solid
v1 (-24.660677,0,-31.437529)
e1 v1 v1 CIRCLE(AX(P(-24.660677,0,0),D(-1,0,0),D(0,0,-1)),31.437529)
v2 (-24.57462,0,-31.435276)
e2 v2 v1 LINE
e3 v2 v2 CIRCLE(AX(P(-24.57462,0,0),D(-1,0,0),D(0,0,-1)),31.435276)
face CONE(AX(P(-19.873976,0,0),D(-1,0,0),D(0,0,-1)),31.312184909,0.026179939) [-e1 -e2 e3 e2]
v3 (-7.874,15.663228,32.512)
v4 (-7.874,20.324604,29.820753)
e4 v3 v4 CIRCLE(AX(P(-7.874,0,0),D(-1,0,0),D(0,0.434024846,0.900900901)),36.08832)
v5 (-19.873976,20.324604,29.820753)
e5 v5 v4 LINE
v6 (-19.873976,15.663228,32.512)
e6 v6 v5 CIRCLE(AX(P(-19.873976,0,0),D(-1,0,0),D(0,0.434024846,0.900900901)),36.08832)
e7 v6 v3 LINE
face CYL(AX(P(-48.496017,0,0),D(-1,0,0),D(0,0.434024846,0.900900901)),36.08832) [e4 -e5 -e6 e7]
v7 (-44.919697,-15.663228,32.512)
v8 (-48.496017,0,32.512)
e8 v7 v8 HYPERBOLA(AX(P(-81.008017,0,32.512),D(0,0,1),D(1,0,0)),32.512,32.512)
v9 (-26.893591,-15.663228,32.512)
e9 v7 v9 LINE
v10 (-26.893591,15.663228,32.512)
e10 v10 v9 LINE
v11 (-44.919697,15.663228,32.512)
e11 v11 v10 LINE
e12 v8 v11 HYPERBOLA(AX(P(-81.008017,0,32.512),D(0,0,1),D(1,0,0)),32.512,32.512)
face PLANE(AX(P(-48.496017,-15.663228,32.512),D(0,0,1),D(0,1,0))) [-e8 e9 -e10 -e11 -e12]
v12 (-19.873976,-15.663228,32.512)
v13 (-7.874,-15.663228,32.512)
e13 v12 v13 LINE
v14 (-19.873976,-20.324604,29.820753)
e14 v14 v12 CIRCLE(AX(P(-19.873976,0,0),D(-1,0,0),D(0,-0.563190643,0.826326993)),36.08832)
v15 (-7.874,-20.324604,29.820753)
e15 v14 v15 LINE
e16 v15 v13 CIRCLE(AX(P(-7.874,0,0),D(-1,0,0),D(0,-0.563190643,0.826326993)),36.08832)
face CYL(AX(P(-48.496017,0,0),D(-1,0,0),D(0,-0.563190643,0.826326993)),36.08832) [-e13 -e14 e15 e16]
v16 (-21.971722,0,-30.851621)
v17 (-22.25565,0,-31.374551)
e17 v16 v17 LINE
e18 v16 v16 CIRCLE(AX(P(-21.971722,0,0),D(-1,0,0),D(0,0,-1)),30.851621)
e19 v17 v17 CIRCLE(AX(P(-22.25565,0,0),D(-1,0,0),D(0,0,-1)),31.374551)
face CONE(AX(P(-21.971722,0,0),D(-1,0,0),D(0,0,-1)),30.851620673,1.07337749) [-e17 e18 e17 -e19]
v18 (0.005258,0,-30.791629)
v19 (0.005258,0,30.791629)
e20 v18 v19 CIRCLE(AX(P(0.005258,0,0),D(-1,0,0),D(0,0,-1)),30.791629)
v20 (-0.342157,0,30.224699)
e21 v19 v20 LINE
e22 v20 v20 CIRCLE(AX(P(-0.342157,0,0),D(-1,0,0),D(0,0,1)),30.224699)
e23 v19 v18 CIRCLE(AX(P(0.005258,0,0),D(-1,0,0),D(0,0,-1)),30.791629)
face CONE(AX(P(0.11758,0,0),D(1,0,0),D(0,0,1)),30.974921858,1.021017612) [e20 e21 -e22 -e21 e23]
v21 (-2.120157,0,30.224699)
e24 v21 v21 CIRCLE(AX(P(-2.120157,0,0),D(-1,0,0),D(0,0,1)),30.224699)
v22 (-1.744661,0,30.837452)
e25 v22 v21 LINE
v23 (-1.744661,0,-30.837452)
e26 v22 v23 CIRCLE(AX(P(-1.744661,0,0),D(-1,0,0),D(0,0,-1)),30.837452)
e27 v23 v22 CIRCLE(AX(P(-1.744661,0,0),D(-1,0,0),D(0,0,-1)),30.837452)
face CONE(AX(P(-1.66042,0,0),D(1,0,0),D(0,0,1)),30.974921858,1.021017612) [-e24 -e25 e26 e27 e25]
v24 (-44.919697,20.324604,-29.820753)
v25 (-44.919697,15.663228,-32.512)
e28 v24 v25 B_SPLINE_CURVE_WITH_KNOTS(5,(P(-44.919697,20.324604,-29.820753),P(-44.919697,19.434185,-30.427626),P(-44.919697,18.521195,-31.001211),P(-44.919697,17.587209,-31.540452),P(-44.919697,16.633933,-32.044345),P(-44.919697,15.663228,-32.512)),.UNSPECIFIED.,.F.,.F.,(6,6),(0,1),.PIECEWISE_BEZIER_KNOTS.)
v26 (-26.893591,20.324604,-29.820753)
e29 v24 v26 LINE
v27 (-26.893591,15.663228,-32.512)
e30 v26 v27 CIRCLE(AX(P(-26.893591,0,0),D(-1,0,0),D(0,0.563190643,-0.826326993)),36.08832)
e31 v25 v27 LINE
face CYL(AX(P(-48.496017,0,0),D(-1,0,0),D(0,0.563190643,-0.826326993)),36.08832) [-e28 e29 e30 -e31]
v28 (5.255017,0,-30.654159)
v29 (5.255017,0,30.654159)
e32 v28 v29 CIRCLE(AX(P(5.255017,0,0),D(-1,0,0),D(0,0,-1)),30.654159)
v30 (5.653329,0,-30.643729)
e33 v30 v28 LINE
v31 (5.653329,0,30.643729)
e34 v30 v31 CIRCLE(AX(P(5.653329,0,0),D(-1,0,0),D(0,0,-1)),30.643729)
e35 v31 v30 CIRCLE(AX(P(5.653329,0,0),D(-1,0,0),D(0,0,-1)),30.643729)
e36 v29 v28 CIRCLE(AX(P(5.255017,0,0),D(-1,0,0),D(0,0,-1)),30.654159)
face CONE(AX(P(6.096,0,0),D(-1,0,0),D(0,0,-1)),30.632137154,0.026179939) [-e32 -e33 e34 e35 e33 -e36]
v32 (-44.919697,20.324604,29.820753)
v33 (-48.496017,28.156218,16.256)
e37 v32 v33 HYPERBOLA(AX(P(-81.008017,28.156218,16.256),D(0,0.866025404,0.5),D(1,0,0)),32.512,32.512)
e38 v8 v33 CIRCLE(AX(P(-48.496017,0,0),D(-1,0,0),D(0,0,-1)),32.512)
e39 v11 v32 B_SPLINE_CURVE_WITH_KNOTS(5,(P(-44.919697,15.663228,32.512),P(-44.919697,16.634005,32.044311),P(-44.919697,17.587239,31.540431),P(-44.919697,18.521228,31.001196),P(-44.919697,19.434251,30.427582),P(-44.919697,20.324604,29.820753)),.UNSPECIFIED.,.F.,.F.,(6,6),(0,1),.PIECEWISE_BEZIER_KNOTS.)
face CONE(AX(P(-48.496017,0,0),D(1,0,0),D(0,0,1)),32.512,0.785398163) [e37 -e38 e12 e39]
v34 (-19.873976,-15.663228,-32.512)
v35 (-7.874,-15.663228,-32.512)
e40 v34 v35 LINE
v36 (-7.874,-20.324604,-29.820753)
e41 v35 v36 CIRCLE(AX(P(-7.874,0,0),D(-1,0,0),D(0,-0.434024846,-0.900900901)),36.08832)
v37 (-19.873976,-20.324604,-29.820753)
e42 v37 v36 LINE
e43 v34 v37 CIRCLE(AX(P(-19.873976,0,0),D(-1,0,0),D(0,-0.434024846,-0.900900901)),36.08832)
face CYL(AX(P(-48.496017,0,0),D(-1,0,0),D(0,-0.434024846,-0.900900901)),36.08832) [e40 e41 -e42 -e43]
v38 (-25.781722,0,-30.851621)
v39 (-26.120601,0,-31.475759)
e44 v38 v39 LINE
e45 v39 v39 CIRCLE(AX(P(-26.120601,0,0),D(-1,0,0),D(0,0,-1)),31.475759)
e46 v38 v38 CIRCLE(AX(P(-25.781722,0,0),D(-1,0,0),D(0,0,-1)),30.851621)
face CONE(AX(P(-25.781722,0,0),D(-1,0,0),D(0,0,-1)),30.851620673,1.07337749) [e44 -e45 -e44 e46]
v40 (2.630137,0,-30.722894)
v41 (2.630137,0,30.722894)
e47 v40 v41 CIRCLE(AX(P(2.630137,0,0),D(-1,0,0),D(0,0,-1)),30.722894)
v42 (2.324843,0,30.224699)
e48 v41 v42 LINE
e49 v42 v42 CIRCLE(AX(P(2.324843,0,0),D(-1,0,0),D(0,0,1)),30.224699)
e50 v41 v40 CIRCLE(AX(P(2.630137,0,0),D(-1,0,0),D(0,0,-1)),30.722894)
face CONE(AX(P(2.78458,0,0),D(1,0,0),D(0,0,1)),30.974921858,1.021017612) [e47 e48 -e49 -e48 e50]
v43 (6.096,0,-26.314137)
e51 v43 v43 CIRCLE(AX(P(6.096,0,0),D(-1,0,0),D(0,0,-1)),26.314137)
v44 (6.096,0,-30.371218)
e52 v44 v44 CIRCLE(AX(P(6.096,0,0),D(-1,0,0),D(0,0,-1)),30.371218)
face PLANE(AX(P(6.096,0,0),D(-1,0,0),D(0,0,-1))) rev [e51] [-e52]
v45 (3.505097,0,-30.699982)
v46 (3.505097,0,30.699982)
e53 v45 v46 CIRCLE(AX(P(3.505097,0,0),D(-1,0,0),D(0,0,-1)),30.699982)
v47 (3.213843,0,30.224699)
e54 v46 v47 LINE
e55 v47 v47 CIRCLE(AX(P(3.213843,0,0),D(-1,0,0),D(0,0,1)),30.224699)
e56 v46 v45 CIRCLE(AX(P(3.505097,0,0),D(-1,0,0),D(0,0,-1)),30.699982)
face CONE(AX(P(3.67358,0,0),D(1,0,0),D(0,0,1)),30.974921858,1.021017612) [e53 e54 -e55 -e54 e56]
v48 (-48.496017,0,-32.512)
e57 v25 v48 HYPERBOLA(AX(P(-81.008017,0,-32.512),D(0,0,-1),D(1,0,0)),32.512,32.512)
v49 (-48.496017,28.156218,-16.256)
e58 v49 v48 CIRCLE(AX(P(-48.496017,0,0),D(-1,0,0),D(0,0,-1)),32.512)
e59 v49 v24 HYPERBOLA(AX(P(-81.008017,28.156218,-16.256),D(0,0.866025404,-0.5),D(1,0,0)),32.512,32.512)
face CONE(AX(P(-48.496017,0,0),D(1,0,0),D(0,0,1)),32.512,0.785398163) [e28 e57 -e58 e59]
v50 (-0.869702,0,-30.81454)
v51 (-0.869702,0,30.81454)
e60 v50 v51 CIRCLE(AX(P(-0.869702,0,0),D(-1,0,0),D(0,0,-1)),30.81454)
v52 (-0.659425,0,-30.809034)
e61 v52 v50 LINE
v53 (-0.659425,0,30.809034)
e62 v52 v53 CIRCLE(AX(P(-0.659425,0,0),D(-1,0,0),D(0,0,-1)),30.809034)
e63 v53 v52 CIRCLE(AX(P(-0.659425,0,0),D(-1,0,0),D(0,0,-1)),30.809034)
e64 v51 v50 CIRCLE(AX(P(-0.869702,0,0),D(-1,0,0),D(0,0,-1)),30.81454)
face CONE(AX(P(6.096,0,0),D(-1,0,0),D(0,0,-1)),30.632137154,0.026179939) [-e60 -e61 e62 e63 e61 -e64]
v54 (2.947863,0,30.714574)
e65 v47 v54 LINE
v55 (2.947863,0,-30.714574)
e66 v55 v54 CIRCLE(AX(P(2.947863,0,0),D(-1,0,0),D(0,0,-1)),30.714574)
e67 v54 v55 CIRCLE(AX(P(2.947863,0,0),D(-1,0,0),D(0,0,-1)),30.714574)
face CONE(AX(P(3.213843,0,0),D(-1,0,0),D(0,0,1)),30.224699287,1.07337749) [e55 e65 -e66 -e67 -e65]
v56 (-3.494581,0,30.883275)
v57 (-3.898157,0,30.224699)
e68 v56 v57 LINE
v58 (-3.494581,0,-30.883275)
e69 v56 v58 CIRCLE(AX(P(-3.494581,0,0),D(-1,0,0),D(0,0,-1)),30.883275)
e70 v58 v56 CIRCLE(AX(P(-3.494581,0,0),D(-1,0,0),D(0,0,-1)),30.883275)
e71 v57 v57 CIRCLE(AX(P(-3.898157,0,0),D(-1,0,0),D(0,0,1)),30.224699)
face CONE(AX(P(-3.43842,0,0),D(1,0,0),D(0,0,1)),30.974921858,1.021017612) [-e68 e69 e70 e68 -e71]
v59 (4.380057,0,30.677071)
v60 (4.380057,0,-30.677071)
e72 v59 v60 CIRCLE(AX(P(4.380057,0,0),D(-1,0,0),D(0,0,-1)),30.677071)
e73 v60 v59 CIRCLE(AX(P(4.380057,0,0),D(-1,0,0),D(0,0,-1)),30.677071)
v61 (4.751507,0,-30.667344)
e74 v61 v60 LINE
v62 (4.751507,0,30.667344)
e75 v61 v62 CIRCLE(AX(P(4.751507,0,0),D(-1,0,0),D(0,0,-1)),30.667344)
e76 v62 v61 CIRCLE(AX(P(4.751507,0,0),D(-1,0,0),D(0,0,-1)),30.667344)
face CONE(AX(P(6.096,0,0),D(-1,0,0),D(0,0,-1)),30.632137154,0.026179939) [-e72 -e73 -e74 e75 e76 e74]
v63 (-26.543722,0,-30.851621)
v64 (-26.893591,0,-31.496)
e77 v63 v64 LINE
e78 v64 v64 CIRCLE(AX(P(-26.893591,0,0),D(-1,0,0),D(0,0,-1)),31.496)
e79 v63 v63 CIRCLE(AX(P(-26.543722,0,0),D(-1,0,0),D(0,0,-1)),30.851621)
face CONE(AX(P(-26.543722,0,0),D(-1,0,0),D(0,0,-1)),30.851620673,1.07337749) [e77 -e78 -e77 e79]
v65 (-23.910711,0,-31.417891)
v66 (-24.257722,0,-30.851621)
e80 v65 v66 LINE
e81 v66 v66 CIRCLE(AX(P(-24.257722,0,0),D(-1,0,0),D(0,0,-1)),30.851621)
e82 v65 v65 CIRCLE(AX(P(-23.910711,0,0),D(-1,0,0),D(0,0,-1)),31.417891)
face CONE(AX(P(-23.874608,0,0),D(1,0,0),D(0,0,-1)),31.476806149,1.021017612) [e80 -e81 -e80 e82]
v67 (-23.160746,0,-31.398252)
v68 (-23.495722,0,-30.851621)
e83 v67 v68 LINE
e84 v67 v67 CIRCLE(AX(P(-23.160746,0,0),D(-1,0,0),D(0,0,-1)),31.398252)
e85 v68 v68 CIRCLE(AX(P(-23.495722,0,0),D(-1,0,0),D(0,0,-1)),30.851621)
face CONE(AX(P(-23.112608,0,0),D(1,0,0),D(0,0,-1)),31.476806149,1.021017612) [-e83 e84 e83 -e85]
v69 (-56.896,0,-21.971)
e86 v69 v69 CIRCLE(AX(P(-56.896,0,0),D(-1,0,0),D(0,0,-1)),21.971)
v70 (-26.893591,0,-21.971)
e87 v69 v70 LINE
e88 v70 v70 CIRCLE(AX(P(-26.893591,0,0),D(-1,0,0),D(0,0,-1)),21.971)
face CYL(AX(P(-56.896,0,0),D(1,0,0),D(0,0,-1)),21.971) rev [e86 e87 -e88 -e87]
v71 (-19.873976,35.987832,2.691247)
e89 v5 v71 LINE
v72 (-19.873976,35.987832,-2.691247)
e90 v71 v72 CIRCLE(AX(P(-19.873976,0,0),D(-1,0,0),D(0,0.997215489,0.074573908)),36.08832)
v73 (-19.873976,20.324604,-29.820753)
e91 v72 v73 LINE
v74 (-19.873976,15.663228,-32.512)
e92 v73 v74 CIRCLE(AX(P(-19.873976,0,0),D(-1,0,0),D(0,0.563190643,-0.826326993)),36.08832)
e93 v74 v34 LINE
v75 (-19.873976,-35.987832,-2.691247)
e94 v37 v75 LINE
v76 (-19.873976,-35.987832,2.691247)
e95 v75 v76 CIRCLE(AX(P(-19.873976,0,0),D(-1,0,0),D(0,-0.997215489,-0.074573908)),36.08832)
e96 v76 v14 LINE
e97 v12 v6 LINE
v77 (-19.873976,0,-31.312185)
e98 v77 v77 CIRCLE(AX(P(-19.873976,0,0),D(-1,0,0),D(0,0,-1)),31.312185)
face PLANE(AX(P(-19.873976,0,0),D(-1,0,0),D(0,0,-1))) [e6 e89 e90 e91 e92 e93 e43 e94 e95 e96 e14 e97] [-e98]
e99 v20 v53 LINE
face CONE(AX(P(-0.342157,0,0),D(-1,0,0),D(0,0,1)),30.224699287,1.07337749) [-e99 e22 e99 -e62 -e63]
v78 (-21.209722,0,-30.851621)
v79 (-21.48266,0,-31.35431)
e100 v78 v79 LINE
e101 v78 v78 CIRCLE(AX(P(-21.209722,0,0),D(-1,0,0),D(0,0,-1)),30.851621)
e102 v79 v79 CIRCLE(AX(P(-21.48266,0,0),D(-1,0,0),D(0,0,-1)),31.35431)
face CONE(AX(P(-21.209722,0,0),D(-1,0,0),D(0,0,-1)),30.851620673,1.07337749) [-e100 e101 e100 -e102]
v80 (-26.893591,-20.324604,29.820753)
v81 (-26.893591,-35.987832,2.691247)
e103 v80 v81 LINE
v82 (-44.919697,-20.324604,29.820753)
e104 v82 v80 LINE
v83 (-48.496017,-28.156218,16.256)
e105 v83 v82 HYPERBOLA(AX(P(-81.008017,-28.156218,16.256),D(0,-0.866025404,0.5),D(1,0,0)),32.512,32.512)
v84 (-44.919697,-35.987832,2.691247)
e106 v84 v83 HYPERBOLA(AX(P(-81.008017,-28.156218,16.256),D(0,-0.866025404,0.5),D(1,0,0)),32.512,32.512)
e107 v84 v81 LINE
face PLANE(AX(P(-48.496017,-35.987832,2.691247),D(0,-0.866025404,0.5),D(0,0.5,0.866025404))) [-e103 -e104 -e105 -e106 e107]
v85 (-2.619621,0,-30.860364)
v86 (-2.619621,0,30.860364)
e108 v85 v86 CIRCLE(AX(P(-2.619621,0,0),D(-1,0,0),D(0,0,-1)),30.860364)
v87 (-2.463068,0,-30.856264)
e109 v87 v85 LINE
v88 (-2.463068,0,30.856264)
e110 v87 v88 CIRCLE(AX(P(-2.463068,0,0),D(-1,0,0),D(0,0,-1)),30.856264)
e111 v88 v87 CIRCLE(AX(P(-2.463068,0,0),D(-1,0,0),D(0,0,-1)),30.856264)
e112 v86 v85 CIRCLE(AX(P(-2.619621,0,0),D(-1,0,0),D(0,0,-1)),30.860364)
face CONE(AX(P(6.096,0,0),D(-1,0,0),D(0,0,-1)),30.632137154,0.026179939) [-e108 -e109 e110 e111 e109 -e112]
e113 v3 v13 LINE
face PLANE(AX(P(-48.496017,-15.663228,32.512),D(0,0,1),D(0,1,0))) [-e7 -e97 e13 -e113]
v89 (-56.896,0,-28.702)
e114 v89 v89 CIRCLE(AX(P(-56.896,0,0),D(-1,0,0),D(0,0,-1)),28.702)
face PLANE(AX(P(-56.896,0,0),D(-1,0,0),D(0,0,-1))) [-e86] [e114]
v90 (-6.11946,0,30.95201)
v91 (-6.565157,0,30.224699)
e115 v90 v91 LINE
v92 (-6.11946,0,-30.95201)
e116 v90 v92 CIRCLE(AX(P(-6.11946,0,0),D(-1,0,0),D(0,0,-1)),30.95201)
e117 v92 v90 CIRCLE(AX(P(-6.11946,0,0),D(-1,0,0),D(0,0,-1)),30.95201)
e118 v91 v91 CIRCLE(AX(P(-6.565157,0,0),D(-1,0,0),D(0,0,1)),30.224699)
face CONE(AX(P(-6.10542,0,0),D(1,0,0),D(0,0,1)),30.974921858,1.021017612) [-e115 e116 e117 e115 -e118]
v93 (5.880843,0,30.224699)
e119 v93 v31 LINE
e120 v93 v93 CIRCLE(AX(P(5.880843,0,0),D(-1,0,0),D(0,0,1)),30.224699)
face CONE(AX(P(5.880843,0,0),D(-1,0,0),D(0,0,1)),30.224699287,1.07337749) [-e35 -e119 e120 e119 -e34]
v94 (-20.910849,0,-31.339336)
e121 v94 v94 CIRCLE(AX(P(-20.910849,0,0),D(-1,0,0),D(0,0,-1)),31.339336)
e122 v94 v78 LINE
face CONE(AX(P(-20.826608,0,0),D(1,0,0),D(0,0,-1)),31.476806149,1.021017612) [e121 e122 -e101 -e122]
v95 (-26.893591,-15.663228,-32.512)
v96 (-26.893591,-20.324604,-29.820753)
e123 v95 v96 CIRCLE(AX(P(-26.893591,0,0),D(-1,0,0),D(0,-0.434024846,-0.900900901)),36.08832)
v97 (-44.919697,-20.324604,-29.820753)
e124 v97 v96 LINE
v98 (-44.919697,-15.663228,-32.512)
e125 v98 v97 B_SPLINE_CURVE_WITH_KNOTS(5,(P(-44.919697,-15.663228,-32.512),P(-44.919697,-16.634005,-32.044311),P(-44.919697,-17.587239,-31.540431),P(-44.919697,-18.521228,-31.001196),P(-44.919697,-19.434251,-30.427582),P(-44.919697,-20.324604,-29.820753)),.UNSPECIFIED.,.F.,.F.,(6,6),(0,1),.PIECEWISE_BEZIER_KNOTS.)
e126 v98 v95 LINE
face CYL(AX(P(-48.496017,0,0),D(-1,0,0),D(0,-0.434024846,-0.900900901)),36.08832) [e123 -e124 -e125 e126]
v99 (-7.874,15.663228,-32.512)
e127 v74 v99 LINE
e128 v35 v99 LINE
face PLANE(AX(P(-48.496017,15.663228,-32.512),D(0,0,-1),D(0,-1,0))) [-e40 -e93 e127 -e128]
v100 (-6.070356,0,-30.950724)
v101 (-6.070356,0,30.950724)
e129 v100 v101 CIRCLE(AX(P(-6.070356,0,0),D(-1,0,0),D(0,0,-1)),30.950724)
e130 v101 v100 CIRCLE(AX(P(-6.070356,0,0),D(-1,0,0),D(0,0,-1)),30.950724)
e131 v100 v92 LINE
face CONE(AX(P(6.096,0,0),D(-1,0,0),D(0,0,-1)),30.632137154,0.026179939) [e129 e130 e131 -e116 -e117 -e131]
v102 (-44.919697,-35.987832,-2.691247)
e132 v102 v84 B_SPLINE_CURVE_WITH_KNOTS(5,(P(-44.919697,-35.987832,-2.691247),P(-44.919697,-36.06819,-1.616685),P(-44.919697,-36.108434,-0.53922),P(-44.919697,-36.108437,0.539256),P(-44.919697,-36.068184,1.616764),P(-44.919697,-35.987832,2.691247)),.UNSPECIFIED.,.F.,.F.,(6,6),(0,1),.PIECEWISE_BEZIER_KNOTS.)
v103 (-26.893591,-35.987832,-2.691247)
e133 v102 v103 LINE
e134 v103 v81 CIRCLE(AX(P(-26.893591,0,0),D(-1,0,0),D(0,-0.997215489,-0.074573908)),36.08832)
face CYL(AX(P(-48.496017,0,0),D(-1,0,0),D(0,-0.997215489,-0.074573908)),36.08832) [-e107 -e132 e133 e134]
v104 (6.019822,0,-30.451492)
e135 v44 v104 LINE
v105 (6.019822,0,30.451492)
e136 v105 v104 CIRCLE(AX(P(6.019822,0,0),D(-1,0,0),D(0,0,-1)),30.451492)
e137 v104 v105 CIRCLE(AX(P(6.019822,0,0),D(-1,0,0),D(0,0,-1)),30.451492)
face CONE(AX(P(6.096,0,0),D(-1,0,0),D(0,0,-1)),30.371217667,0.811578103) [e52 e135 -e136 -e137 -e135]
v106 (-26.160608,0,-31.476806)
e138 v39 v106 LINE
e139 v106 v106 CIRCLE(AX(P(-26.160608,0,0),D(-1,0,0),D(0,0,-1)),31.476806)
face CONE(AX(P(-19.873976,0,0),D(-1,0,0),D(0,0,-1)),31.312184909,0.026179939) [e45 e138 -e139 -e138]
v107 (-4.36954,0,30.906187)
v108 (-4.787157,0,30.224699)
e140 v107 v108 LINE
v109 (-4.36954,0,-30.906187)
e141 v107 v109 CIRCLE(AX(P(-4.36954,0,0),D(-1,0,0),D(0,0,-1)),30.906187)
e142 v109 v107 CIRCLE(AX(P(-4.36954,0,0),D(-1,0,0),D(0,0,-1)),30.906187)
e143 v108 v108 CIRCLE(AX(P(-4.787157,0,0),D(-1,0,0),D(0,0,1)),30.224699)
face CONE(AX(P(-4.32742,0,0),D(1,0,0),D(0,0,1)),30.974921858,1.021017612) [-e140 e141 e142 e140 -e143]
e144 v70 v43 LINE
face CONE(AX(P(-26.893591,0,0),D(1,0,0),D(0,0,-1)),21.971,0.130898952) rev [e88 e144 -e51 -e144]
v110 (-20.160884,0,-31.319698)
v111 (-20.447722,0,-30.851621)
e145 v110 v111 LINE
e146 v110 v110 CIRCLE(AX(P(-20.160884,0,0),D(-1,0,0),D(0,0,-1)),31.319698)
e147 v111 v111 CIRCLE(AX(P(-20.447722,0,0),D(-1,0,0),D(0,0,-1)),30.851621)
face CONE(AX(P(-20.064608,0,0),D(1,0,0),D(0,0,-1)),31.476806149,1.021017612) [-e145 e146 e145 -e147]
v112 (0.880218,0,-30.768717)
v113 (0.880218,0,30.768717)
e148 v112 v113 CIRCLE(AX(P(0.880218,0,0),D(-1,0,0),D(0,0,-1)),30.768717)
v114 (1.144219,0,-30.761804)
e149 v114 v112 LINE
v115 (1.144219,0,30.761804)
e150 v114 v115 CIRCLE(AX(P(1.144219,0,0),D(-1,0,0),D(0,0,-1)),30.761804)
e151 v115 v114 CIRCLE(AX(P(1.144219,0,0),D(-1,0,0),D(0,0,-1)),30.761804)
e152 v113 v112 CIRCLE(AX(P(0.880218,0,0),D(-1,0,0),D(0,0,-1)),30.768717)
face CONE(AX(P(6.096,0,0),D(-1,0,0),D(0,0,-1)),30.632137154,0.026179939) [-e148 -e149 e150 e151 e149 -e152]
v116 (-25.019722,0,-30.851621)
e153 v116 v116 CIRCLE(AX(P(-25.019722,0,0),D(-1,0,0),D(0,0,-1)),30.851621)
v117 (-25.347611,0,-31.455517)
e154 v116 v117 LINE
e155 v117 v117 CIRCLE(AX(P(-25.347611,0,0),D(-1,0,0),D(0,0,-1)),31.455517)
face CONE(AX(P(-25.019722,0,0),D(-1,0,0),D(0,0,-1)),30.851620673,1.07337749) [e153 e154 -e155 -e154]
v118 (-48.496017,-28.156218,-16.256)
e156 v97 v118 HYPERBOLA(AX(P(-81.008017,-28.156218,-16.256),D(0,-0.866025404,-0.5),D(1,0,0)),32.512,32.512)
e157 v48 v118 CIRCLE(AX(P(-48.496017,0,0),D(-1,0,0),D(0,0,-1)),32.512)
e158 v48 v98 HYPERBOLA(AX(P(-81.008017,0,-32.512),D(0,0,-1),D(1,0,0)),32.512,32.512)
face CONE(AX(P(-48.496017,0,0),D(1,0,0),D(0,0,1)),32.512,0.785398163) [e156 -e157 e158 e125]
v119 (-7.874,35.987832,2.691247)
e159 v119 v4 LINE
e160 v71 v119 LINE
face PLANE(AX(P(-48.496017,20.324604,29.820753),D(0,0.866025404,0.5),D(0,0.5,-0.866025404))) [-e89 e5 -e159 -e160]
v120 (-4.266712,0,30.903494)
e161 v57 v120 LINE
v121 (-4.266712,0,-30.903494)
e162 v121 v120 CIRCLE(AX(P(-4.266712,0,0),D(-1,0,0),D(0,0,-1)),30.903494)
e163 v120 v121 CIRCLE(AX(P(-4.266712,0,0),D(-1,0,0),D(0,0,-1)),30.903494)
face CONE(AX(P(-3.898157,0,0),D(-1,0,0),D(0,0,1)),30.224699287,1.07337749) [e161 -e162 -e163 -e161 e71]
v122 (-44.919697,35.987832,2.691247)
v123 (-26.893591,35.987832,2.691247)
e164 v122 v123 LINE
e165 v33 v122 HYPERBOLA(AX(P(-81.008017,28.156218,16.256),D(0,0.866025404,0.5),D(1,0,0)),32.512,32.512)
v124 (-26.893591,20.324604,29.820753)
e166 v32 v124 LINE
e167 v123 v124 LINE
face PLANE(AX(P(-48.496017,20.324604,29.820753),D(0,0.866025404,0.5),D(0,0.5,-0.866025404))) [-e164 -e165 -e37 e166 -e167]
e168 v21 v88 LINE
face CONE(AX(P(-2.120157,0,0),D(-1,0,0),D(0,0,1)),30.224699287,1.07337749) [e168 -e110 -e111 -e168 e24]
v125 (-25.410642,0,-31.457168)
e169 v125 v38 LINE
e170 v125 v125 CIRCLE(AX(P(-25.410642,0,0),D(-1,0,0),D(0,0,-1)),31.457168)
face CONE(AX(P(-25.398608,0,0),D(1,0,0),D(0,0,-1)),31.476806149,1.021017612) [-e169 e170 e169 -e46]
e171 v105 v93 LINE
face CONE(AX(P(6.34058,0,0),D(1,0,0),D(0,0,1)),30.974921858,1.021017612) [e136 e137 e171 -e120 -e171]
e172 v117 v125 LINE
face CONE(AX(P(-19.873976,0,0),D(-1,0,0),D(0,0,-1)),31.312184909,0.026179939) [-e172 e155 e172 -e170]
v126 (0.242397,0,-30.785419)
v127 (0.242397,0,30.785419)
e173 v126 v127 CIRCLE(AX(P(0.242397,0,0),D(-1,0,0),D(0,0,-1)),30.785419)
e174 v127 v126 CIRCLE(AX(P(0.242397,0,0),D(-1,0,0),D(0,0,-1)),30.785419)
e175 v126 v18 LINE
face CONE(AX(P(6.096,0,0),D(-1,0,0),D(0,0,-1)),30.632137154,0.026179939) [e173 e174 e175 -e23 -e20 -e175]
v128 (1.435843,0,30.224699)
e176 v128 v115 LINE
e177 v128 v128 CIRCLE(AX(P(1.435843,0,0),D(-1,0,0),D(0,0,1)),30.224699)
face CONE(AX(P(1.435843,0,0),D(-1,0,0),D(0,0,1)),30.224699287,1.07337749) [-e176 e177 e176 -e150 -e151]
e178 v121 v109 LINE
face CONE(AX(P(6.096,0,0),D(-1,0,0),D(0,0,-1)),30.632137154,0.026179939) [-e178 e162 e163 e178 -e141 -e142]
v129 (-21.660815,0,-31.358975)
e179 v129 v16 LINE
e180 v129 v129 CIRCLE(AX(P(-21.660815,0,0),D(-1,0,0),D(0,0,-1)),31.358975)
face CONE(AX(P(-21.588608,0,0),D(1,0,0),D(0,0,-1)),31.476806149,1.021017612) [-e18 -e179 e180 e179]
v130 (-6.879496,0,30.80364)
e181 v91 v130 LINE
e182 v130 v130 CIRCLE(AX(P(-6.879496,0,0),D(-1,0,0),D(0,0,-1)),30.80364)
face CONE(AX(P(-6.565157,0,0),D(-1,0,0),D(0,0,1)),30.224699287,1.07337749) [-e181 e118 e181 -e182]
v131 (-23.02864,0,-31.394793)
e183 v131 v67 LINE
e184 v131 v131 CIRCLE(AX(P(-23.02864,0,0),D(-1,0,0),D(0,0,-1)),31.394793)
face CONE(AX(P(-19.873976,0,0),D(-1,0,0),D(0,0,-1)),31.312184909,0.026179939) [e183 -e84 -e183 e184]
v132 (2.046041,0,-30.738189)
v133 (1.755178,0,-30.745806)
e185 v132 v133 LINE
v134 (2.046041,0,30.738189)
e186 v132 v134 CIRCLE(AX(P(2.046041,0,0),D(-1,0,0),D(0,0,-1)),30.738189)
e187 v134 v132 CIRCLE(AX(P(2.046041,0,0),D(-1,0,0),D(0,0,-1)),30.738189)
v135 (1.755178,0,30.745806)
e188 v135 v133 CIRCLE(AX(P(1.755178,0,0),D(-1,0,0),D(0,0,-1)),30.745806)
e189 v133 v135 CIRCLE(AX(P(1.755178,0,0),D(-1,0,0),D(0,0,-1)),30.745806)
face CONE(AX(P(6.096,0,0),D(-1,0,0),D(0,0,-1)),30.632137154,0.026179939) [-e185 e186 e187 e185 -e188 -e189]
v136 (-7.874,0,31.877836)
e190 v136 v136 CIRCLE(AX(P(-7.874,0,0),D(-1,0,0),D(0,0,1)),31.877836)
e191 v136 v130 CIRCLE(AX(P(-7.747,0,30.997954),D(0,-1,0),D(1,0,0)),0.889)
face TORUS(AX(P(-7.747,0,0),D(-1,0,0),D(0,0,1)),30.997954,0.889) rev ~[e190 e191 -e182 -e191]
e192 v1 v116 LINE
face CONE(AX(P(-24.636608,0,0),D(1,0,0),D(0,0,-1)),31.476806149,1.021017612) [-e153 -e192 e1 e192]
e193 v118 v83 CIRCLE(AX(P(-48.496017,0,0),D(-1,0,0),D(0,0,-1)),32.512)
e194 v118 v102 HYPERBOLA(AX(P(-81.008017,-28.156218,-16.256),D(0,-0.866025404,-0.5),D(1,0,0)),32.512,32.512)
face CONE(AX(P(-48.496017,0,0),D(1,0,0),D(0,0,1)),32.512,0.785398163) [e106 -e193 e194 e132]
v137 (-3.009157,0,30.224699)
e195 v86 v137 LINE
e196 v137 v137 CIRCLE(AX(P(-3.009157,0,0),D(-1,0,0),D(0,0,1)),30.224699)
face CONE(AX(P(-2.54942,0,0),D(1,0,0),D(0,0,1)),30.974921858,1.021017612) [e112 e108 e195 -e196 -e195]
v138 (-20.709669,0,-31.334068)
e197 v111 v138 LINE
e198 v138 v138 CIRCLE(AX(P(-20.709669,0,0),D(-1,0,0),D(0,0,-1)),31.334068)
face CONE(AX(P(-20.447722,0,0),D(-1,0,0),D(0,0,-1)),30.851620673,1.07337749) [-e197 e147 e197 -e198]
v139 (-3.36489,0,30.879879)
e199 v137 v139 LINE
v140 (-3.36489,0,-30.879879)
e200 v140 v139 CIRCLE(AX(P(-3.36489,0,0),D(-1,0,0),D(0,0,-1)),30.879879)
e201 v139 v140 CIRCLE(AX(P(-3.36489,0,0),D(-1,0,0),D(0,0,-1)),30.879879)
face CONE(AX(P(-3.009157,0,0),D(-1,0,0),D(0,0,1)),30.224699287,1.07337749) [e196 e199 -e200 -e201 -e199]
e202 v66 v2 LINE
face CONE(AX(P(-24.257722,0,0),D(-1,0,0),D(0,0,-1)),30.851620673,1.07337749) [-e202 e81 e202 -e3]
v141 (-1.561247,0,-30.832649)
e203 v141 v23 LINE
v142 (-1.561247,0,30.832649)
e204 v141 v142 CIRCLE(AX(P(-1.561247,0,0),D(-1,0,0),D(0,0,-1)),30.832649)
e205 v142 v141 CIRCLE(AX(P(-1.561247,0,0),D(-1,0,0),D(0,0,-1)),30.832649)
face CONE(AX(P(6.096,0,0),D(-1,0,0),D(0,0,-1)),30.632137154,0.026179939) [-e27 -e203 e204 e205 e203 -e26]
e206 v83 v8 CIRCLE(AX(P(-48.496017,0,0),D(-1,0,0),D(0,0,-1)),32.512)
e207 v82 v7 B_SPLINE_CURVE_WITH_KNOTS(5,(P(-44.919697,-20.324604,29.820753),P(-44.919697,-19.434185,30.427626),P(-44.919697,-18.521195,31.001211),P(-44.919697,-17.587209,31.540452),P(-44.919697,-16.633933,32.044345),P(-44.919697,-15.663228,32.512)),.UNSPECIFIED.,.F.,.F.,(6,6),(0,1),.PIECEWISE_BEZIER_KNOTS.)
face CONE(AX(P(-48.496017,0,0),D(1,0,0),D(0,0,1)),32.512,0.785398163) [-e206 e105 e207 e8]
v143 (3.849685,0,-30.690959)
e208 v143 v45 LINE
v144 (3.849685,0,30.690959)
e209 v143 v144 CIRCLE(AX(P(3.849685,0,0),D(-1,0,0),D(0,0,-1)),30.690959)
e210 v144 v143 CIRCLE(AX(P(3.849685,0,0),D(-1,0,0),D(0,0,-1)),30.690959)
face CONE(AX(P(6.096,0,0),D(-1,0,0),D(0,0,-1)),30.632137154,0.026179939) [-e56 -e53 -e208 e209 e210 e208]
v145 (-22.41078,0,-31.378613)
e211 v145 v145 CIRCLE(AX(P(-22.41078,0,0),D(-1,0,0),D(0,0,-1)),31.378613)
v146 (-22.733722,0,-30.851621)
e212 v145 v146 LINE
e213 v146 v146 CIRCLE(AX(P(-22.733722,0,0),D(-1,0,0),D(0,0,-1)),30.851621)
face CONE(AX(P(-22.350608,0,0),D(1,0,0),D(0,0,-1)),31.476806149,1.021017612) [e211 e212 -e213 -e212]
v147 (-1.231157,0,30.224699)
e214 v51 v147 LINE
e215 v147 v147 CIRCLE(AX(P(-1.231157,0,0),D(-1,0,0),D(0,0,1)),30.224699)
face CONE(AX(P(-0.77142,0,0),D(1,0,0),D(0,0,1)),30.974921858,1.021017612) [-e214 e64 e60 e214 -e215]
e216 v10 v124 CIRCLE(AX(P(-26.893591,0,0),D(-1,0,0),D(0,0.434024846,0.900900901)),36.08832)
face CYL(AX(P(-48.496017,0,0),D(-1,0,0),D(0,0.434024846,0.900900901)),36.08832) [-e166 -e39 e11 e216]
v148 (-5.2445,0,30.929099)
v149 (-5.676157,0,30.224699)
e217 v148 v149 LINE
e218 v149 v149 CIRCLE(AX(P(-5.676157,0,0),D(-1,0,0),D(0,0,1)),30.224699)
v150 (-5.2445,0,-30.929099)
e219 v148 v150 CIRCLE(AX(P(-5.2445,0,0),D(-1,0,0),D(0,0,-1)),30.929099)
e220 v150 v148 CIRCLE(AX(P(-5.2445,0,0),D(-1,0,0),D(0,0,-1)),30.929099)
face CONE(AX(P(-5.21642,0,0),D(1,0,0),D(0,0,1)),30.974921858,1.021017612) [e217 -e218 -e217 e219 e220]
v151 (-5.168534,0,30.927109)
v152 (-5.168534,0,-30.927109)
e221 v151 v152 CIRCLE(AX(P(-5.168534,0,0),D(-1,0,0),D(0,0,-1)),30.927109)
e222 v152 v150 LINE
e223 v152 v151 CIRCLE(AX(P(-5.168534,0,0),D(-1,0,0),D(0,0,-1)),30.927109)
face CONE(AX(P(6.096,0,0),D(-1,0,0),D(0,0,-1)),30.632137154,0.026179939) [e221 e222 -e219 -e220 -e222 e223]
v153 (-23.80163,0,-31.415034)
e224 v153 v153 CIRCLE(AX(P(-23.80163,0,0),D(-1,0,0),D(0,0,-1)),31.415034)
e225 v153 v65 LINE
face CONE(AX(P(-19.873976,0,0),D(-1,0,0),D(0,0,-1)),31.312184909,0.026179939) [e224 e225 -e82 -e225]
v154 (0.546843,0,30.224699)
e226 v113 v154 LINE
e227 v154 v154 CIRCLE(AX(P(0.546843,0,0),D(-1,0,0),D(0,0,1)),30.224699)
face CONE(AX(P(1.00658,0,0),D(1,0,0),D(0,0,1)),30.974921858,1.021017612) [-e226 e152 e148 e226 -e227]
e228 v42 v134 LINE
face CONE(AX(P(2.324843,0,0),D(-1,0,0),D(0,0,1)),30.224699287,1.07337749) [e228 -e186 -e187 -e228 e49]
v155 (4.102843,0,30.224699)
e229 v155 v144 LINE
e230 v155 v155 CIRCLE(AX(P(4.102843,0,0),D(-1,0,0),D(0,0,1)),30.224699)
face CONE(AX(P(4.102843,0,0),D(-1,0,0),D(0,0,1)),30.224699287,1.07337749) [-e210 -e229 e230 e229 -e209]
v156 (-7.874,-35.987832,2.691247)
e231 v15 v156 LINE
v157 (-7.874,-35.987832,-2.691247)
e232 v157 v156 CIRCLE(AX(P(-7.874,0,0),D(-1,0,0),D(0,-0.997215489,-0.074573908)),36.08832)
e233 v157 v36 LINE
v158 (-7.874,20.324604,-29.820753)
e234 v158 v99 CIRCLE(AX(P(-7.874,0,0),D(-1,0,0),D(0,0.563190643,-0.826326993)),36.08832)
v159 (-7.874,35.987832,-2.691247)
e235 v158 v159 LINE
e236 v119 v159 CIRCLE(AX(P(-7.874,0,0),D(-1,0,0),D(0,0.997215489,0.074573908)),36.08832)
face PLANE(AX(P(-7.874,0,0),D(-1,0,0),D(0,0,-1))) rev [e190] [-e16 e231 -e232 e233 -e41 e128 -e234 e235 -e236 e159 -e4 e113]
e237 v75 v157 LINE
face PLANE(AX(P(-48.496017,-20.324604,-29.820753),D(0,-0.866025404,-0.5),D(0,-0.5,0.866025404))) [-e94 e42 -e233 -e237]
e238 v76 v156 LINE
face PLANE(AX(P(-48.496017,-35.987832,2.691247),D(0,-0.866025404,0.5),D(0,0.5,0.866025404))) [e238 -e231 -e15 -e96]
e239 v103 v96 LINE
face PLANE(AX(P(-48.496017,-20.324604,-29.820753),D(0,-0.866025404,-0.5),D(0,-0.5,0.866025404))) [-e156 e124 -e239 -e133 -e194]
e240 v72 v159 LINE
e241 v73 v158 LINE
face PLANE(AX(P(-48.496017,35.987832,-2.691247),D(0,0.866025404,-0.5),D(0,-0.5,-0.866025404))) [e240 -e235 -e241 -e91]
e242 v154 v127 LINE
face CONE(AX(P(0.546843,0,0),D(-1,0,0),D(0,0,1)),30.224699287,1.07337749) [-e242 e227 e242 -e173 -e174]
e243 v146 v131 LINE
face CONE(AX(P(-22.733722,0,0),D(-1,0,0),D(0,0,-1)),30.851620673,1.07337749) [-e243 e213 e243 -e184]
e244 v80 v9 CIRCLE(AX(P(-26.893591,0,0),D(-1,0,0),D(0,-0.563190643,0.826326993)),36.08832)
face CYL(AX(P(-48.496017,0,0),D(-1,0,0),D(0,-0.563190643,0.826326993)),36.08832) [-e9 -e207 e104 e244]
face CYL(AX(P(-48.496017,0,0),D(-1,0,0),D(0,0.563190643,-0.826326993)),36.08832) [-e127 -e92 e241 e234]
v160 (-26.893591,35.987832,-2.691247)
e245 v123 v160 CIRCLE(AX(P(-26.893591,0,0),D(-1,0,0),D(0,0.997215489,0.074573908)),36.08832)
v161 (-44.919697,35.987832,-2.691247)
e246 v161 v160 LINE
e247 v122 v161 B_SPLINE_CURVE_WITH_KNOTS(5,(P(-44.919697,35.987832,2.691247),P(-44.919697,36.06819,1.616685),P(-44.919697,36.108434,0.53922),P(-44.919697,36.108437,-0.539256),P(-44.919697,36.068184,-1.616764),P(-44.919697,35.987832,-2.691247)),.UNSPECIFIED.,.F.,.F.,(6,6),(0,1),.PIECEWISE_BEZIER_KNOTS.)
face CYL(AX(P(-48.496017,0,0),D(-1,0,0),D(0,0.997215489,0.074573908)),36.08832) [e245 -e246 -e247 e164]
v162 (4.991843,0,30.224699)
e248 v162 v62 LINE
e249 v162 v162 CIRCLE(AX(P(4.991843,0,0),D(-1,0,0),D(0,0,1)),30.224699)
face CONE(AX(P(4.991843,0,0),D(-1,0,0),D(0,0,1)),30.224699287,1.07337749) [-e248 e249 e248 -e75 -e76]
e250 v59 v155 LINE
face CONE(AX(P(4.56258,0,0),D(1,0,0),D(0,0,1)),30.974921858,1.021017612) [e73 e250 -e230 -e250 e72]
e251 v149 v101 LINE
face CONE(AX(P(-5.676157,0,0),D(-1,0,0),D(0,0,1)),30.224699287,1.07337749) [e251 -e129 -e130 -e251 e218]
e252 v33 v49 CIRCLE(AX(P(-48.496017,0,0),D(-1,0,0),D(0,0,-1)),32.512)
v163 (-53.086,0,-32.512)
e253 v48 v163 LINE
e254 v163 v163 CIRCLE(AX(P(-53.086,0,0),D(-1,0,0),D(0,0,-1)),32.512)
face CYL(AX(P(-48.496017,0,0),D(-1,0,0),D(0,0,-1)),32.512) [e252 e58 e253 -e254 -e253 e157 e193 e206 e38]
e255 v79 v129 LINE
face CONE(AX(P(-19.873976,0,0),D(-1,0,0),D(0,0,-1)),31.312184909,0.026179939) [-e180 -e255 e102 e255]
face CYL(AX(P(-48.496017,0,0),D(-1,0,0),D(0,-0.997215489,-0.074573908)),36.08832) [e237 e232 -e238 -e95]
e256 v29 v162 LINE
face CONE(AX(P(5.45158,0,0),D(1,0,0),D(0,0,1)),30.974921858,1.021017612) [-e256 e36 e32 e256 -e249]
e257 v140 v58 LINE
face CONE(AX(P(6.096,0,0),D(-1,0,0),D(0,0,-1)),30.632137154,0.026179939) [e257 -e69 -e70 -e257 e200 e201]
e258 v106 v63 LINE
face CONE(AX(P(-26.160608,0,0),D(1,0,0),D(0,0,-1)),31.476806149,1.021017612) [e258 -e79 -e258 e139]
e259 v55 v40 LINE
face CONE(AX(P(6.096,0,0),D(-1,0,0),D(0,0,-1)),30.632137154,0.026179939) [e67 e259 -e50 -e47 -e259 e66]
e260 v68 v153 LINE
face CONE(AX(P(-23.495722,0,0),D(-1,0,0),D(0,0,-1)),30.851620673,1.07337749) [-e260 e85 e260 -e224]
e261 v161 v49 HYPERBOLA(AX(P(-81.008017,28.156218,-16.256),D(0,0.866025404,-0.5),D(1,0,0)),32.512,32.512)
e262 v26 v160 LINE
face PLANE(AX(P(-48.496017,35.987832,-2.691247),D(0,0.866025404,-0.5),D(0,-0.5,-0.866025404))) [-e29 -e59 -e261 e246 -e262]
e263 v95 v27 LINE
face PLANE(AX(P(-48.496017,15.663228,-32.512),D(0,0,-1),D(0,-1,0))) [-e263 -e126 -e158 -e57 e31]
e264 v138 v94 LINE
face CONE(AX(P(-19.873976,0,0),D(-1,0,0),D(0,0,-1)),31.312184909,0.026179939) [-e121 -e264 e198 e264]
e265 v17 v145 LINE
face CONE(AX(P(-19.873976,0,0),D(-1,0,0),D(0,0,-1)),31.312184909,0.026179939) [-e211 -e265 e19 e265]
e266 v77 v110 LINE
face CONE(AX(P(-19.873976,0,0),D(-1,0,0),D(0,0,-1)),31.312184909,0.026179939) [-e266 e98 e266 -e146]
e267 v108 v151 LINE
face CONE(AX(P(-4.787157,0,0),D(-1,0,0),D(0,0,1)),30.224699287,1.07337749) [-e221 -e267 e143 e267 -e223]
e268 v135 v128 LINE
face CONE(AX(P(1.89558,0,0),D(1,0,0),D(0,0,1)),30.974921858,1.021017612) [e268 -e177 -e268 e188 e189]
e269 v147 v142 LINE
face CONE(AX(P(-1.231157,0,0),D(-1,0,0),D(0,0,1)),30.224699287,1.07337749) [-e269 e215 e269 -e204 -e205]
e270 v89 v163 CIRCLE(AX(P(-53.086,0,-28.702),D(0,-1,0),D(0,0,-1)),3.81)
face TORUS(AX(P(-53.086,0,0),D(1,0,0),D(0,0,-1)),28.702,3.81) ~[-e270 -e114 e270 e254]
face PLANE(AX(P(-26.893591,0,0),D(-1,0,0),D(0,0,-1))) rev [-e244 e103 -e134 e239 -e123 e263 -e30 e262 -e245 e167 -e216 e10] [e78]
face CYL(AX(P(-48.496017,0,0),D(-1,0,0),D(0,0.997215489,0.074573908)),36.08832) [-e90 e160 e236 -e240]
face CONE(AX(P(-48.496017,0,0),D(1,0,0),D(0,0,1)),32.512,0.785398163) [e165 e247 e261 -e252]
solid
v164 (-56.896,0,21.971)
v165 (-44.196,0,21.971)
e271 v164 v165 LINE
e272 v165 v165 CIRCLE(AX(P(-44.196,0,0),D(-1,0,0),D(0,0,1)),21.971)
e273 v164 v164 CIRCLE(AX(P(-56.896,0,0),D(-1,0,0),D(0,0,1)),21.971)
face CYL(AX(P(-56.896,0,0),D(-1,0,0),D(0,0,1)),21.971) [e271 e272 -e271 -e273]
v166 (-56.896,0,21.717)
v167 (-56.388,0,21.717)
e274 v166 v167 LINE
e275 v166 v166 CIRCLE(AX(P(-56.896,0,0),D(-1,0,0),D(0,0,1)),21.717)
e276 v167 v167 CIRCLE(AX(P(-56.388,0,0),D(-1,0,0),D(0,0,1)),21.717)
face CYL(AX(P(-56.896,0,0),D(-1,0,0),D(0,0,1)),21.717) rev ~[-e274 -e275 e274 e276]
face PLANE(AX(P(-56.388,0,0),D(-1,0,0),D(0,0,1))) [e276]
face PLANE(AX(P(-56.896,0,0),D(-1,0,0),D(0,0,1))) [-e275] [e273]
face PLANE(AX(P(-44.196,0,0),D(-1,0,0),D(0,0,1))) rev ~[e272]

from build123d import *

# Parameters (mm, degrees)
SKETCH12_OUTSIDE_W = 170.928
SKETCH12_OUTSIDE_H = 170.928
CUT_EXTRUDE2_DEPTH = 55.5920168
FILLET4_R          = 3.81
SKETCH19_OUTSIDE_W = 98.176
SKETCH19_OUTSIDE_H = 105.328
SKETCH19_OUTSIDE_R = 32.512
CUT_EXTRUDE3_DEPTH = 3.99796
CUT_EXTRUDE3_DRAFT = -45
CHAMFER1_SIZE      = 0.260919487
CHAMFER1_SIZE2     = 0.254
SKETCH21_R         = 21.971
PLUG_DEPTH         = 12.7
SKETCH22_R         = 21.717
CUT_EXTRUDE4_DEPTH = 0.508
LPATTERN1_COUNT    = 9
LPATTERN1_PITCH    = 0.762
LPATTERN2_COUNT    = 16
LPATTERN2_PITCH    = 0.889
SKETCH32_R         = 0.889


with BuildPart() as part:
    # Sketch10 → Revolve2 (revolve)
    with BuildSketch(Plane.XY, mode=Mode.PRIVATE) as revolve2_sk:
        Polygon((-56.896, 21.971), (-26.89359112, 21.971), (6.096, 26.314137154), (6.096, 30.632137154), (-7.874, 30.997954479), (-7.874, 65.024), (-19.873976, 65.024), (-19.873976, 31.312184909), (-26.89359112, 31.496), (-26.89359112, 65.024), (-48.4960168, 65.024), (-48.4960168, 32.512), (-56.896, 32.512), align=None)
    revolve(revolve2_sk.sketch.rotate(Axis((0, 0, 0), (-1, 0, 0)), 90), axis=Axis((0, 0, 0), (-1, 0, 0)))  # turned: the seam where the file's is

    # Sketch12 outside → Cut-Extrude2 (cut, through all)
    with BuildSketch(Plane.ZY.offset(48.4960168)):
        Rectangle(SKETCH12_OUTSIDE_W, SKETCH12_OUTSIDE_H)
        with BuildLine():
            Line((-2.69124706, 35.987831689), (-29.82075294, 20.324604167))
            ThreePointArc((-29.82075294, 20.324604167), (-31.2534019, 18.04416), (-32.512, 15.663227523))
            Line((-32.512, 15.663227523), (-32.512, -15.663227523))
            ThreePointArc((-32.512, -15.663227523), (-31.2534019, -18.04416), (-29.82075294, -20.324604167))
            Line((-29.82075294, -20.324604167), (-2.69124706, -35.987831689))
            ThreePointArc((-2.69124706, -35.987831689), (0, -36.08832), (2.69124706, -35.987831689))
            Line((2.69124706, -35.987831689), (29.82075294, -20.324604167))
            ThreePointArc((29.82075294, -20.324604167), (31.2534019, -18.04416), (32.512, -15.663227523))
            Line((32.512, -15.663227523), (32.512, 15.663227523))
            ThreePointArc((32.512, 15.663227523), (31.2534019, 18.04416), (29.82075294, 20.324604167))
            Line((29.82075294, 20.324604167), (2.69124706, 35.987831689))
            ThreePointArc((2.69124706, 35.987831689), (0, 36.08832), (-2.69124706, 35.987831689))
        make_face(mode=Mode.SUBTRACT)
    extrude(amount=-CUT_EXTRUDE2_DEPTH, mode=Mode.SUBTRACT)

    # Fillet4
    fillet4_edges = [part.edges().sort_by_distance(p)[0] for p in [
        (-56.896, 0, 32.512),
    ]]
    fillet(fillet4_edges, radius=FILLET4_R)


with BuildPart() as cut_extrude3_tool:
    # Sketch19 outside → Cut-Extrude3 (with draft: the straight prism first)
    with BuildSketch(Plane.ZY.offset(48.4960168)):
        Rectangle(SKETCH19_OUTSIDE_W, SKETCH19_OUTSIDE_H)
        Circle(SKETCH19_OUTSIDE_R, mode=Mode.SUBTRACT)
    extrude(amount=-CUT_EXTRUDE3_DEPTH)
    # Cut-Extrude3: the draft: its side faces are tilted about the plane it starts from
    cut_extrude3_sides = [cut_extrude3_tool.faces().sort_by_distance(p)[0] for p in [
        (-46.4970368, -52.664, 0),
        (-46.4970368, 0, 49.088),
        (-46.4970368, 52.664, 0),
        (-46.4970368, 0, -49.088),
        (-46.4970368, 0, -32.512),
    ]]
    draft(cut_extrude3_sides, Plane.ZY.offset(48.4960168), CUT_EXTRUDE3_DRAFT)


with BuildPart() as part_1:
    add(part.part)

    # Cut-Extrude3: cut by cut_extrude3_tool
    add(cut_extrude3_tool.part, mode=Mode.SUBTRACT)

    # Chamfer1
    chamfer1_edges = [part_1.edges().sort_by_distance(p)[0] for p in [
        (6.096, 0, 30.632137154),
    ]]
    chamfer1_side = [part_1.faces().sort_by_distance(p)[0] for p in [
        (6.096, 0, 27.18054483),
    ]]
    chamfer(chamfer1_edges, length=CHAMFER1_SIZE, length2=CHAMFER1_SIZE2, reference=chamfer1_side[0])

    # Sketch29 → Cut-Revolve1 (revolve, cut)
    with BuildSketch(Plane.XY, mode=Mode.PRIVATE) as cut_revolve1_sk:
        Polygon((-26.89359112, 31.496), (-26.160607539, 31.476806149), (-26.543721692, 30.851620673), align=None)
    cut_revolve1 = revolve(cut_revolve1_sk.sketch.rotate(Axis((0, 0, 0), (-1, 0, 0)), 90), axis=Axis((0, 0, 0), (-1, 0, 0)), mode=Mode.SUBTRACT)  # turned: the seam where the file's is

    # LPattern1: Cut-Revolve1 ×9
    with Locations(*[(i * LPATTERN1_PITCH, 0, 0) for i in range(1, LPATTERN1_COUNT)]):
        add(cut_revolve1, mode=Mode.SUBTRACT)

    # Sketch30 → Cut-Revolve2 (revolve, cut)
    with BuildSketch(Plane.XY, mode=Mode.PRIVATE) as cut_revolve2_sk:
        Polygon((-7.874, 30.997954479), (-6.994419703, 30.974921858), (-7.454156686, 30.224699287), align=None)
    cut_revolve2 = revolve(cut_revolve2_sk.sketch.rotate(Axis((0, 0, 0), (-1, 0, 0)), 270), axis=Axis((0, 0, 0), (-1, 0, 0)), mode=Mode.SUBTRACT)  # turned: the seam where the file's is

    # LPattern2: Cut-Revolve2 ×16
    with Locations(*[(i * LPATTERN2_PITCH, 0, 0) for i in range(1, LPATTERN2_COUNT)]):
        add(cut_revolve2, mode=Mode.SUBTRACT)

    # Sketch32 → Cut-Revolve3 (revolve, cut)
    with BuildSketch(Plane.XY, mode=Mode.PRIVATE) as cut_revolve3_sk:
        with Locations((-7.747, 30.997954479)):
            Circle(SKETCH32_R)
    revolve(cut_revolve3_sk.sketch.rotate(Axis((0, 0, 0), (-1, 0, 0)), 270), axis=Axis((0, 0, 0), (-1, 0, 0)), mode=Mode.SUBTRACT)  # turned: the seam where the file's is


with BuildPart() as body_2:
    # Sketch21 → plug (new body)
    with BuildSketch(Plane.ZY.offset(56.896)):
        Circle(SKETCH21_R)
    extrude(amount=-PLUG_DEPTH)

    # Sketch22 → Cut-Extrude4 (cut)
    with BuildSketch(Plane.ZY.offset(56.896)):
        Circle(SKETCH22_R)
    extrude(amount=-CUT_EXTRUDE4_DEPTH, mode=Mode.SUBTRACT)


solid = Compound([part_1.part, body_2.part])
